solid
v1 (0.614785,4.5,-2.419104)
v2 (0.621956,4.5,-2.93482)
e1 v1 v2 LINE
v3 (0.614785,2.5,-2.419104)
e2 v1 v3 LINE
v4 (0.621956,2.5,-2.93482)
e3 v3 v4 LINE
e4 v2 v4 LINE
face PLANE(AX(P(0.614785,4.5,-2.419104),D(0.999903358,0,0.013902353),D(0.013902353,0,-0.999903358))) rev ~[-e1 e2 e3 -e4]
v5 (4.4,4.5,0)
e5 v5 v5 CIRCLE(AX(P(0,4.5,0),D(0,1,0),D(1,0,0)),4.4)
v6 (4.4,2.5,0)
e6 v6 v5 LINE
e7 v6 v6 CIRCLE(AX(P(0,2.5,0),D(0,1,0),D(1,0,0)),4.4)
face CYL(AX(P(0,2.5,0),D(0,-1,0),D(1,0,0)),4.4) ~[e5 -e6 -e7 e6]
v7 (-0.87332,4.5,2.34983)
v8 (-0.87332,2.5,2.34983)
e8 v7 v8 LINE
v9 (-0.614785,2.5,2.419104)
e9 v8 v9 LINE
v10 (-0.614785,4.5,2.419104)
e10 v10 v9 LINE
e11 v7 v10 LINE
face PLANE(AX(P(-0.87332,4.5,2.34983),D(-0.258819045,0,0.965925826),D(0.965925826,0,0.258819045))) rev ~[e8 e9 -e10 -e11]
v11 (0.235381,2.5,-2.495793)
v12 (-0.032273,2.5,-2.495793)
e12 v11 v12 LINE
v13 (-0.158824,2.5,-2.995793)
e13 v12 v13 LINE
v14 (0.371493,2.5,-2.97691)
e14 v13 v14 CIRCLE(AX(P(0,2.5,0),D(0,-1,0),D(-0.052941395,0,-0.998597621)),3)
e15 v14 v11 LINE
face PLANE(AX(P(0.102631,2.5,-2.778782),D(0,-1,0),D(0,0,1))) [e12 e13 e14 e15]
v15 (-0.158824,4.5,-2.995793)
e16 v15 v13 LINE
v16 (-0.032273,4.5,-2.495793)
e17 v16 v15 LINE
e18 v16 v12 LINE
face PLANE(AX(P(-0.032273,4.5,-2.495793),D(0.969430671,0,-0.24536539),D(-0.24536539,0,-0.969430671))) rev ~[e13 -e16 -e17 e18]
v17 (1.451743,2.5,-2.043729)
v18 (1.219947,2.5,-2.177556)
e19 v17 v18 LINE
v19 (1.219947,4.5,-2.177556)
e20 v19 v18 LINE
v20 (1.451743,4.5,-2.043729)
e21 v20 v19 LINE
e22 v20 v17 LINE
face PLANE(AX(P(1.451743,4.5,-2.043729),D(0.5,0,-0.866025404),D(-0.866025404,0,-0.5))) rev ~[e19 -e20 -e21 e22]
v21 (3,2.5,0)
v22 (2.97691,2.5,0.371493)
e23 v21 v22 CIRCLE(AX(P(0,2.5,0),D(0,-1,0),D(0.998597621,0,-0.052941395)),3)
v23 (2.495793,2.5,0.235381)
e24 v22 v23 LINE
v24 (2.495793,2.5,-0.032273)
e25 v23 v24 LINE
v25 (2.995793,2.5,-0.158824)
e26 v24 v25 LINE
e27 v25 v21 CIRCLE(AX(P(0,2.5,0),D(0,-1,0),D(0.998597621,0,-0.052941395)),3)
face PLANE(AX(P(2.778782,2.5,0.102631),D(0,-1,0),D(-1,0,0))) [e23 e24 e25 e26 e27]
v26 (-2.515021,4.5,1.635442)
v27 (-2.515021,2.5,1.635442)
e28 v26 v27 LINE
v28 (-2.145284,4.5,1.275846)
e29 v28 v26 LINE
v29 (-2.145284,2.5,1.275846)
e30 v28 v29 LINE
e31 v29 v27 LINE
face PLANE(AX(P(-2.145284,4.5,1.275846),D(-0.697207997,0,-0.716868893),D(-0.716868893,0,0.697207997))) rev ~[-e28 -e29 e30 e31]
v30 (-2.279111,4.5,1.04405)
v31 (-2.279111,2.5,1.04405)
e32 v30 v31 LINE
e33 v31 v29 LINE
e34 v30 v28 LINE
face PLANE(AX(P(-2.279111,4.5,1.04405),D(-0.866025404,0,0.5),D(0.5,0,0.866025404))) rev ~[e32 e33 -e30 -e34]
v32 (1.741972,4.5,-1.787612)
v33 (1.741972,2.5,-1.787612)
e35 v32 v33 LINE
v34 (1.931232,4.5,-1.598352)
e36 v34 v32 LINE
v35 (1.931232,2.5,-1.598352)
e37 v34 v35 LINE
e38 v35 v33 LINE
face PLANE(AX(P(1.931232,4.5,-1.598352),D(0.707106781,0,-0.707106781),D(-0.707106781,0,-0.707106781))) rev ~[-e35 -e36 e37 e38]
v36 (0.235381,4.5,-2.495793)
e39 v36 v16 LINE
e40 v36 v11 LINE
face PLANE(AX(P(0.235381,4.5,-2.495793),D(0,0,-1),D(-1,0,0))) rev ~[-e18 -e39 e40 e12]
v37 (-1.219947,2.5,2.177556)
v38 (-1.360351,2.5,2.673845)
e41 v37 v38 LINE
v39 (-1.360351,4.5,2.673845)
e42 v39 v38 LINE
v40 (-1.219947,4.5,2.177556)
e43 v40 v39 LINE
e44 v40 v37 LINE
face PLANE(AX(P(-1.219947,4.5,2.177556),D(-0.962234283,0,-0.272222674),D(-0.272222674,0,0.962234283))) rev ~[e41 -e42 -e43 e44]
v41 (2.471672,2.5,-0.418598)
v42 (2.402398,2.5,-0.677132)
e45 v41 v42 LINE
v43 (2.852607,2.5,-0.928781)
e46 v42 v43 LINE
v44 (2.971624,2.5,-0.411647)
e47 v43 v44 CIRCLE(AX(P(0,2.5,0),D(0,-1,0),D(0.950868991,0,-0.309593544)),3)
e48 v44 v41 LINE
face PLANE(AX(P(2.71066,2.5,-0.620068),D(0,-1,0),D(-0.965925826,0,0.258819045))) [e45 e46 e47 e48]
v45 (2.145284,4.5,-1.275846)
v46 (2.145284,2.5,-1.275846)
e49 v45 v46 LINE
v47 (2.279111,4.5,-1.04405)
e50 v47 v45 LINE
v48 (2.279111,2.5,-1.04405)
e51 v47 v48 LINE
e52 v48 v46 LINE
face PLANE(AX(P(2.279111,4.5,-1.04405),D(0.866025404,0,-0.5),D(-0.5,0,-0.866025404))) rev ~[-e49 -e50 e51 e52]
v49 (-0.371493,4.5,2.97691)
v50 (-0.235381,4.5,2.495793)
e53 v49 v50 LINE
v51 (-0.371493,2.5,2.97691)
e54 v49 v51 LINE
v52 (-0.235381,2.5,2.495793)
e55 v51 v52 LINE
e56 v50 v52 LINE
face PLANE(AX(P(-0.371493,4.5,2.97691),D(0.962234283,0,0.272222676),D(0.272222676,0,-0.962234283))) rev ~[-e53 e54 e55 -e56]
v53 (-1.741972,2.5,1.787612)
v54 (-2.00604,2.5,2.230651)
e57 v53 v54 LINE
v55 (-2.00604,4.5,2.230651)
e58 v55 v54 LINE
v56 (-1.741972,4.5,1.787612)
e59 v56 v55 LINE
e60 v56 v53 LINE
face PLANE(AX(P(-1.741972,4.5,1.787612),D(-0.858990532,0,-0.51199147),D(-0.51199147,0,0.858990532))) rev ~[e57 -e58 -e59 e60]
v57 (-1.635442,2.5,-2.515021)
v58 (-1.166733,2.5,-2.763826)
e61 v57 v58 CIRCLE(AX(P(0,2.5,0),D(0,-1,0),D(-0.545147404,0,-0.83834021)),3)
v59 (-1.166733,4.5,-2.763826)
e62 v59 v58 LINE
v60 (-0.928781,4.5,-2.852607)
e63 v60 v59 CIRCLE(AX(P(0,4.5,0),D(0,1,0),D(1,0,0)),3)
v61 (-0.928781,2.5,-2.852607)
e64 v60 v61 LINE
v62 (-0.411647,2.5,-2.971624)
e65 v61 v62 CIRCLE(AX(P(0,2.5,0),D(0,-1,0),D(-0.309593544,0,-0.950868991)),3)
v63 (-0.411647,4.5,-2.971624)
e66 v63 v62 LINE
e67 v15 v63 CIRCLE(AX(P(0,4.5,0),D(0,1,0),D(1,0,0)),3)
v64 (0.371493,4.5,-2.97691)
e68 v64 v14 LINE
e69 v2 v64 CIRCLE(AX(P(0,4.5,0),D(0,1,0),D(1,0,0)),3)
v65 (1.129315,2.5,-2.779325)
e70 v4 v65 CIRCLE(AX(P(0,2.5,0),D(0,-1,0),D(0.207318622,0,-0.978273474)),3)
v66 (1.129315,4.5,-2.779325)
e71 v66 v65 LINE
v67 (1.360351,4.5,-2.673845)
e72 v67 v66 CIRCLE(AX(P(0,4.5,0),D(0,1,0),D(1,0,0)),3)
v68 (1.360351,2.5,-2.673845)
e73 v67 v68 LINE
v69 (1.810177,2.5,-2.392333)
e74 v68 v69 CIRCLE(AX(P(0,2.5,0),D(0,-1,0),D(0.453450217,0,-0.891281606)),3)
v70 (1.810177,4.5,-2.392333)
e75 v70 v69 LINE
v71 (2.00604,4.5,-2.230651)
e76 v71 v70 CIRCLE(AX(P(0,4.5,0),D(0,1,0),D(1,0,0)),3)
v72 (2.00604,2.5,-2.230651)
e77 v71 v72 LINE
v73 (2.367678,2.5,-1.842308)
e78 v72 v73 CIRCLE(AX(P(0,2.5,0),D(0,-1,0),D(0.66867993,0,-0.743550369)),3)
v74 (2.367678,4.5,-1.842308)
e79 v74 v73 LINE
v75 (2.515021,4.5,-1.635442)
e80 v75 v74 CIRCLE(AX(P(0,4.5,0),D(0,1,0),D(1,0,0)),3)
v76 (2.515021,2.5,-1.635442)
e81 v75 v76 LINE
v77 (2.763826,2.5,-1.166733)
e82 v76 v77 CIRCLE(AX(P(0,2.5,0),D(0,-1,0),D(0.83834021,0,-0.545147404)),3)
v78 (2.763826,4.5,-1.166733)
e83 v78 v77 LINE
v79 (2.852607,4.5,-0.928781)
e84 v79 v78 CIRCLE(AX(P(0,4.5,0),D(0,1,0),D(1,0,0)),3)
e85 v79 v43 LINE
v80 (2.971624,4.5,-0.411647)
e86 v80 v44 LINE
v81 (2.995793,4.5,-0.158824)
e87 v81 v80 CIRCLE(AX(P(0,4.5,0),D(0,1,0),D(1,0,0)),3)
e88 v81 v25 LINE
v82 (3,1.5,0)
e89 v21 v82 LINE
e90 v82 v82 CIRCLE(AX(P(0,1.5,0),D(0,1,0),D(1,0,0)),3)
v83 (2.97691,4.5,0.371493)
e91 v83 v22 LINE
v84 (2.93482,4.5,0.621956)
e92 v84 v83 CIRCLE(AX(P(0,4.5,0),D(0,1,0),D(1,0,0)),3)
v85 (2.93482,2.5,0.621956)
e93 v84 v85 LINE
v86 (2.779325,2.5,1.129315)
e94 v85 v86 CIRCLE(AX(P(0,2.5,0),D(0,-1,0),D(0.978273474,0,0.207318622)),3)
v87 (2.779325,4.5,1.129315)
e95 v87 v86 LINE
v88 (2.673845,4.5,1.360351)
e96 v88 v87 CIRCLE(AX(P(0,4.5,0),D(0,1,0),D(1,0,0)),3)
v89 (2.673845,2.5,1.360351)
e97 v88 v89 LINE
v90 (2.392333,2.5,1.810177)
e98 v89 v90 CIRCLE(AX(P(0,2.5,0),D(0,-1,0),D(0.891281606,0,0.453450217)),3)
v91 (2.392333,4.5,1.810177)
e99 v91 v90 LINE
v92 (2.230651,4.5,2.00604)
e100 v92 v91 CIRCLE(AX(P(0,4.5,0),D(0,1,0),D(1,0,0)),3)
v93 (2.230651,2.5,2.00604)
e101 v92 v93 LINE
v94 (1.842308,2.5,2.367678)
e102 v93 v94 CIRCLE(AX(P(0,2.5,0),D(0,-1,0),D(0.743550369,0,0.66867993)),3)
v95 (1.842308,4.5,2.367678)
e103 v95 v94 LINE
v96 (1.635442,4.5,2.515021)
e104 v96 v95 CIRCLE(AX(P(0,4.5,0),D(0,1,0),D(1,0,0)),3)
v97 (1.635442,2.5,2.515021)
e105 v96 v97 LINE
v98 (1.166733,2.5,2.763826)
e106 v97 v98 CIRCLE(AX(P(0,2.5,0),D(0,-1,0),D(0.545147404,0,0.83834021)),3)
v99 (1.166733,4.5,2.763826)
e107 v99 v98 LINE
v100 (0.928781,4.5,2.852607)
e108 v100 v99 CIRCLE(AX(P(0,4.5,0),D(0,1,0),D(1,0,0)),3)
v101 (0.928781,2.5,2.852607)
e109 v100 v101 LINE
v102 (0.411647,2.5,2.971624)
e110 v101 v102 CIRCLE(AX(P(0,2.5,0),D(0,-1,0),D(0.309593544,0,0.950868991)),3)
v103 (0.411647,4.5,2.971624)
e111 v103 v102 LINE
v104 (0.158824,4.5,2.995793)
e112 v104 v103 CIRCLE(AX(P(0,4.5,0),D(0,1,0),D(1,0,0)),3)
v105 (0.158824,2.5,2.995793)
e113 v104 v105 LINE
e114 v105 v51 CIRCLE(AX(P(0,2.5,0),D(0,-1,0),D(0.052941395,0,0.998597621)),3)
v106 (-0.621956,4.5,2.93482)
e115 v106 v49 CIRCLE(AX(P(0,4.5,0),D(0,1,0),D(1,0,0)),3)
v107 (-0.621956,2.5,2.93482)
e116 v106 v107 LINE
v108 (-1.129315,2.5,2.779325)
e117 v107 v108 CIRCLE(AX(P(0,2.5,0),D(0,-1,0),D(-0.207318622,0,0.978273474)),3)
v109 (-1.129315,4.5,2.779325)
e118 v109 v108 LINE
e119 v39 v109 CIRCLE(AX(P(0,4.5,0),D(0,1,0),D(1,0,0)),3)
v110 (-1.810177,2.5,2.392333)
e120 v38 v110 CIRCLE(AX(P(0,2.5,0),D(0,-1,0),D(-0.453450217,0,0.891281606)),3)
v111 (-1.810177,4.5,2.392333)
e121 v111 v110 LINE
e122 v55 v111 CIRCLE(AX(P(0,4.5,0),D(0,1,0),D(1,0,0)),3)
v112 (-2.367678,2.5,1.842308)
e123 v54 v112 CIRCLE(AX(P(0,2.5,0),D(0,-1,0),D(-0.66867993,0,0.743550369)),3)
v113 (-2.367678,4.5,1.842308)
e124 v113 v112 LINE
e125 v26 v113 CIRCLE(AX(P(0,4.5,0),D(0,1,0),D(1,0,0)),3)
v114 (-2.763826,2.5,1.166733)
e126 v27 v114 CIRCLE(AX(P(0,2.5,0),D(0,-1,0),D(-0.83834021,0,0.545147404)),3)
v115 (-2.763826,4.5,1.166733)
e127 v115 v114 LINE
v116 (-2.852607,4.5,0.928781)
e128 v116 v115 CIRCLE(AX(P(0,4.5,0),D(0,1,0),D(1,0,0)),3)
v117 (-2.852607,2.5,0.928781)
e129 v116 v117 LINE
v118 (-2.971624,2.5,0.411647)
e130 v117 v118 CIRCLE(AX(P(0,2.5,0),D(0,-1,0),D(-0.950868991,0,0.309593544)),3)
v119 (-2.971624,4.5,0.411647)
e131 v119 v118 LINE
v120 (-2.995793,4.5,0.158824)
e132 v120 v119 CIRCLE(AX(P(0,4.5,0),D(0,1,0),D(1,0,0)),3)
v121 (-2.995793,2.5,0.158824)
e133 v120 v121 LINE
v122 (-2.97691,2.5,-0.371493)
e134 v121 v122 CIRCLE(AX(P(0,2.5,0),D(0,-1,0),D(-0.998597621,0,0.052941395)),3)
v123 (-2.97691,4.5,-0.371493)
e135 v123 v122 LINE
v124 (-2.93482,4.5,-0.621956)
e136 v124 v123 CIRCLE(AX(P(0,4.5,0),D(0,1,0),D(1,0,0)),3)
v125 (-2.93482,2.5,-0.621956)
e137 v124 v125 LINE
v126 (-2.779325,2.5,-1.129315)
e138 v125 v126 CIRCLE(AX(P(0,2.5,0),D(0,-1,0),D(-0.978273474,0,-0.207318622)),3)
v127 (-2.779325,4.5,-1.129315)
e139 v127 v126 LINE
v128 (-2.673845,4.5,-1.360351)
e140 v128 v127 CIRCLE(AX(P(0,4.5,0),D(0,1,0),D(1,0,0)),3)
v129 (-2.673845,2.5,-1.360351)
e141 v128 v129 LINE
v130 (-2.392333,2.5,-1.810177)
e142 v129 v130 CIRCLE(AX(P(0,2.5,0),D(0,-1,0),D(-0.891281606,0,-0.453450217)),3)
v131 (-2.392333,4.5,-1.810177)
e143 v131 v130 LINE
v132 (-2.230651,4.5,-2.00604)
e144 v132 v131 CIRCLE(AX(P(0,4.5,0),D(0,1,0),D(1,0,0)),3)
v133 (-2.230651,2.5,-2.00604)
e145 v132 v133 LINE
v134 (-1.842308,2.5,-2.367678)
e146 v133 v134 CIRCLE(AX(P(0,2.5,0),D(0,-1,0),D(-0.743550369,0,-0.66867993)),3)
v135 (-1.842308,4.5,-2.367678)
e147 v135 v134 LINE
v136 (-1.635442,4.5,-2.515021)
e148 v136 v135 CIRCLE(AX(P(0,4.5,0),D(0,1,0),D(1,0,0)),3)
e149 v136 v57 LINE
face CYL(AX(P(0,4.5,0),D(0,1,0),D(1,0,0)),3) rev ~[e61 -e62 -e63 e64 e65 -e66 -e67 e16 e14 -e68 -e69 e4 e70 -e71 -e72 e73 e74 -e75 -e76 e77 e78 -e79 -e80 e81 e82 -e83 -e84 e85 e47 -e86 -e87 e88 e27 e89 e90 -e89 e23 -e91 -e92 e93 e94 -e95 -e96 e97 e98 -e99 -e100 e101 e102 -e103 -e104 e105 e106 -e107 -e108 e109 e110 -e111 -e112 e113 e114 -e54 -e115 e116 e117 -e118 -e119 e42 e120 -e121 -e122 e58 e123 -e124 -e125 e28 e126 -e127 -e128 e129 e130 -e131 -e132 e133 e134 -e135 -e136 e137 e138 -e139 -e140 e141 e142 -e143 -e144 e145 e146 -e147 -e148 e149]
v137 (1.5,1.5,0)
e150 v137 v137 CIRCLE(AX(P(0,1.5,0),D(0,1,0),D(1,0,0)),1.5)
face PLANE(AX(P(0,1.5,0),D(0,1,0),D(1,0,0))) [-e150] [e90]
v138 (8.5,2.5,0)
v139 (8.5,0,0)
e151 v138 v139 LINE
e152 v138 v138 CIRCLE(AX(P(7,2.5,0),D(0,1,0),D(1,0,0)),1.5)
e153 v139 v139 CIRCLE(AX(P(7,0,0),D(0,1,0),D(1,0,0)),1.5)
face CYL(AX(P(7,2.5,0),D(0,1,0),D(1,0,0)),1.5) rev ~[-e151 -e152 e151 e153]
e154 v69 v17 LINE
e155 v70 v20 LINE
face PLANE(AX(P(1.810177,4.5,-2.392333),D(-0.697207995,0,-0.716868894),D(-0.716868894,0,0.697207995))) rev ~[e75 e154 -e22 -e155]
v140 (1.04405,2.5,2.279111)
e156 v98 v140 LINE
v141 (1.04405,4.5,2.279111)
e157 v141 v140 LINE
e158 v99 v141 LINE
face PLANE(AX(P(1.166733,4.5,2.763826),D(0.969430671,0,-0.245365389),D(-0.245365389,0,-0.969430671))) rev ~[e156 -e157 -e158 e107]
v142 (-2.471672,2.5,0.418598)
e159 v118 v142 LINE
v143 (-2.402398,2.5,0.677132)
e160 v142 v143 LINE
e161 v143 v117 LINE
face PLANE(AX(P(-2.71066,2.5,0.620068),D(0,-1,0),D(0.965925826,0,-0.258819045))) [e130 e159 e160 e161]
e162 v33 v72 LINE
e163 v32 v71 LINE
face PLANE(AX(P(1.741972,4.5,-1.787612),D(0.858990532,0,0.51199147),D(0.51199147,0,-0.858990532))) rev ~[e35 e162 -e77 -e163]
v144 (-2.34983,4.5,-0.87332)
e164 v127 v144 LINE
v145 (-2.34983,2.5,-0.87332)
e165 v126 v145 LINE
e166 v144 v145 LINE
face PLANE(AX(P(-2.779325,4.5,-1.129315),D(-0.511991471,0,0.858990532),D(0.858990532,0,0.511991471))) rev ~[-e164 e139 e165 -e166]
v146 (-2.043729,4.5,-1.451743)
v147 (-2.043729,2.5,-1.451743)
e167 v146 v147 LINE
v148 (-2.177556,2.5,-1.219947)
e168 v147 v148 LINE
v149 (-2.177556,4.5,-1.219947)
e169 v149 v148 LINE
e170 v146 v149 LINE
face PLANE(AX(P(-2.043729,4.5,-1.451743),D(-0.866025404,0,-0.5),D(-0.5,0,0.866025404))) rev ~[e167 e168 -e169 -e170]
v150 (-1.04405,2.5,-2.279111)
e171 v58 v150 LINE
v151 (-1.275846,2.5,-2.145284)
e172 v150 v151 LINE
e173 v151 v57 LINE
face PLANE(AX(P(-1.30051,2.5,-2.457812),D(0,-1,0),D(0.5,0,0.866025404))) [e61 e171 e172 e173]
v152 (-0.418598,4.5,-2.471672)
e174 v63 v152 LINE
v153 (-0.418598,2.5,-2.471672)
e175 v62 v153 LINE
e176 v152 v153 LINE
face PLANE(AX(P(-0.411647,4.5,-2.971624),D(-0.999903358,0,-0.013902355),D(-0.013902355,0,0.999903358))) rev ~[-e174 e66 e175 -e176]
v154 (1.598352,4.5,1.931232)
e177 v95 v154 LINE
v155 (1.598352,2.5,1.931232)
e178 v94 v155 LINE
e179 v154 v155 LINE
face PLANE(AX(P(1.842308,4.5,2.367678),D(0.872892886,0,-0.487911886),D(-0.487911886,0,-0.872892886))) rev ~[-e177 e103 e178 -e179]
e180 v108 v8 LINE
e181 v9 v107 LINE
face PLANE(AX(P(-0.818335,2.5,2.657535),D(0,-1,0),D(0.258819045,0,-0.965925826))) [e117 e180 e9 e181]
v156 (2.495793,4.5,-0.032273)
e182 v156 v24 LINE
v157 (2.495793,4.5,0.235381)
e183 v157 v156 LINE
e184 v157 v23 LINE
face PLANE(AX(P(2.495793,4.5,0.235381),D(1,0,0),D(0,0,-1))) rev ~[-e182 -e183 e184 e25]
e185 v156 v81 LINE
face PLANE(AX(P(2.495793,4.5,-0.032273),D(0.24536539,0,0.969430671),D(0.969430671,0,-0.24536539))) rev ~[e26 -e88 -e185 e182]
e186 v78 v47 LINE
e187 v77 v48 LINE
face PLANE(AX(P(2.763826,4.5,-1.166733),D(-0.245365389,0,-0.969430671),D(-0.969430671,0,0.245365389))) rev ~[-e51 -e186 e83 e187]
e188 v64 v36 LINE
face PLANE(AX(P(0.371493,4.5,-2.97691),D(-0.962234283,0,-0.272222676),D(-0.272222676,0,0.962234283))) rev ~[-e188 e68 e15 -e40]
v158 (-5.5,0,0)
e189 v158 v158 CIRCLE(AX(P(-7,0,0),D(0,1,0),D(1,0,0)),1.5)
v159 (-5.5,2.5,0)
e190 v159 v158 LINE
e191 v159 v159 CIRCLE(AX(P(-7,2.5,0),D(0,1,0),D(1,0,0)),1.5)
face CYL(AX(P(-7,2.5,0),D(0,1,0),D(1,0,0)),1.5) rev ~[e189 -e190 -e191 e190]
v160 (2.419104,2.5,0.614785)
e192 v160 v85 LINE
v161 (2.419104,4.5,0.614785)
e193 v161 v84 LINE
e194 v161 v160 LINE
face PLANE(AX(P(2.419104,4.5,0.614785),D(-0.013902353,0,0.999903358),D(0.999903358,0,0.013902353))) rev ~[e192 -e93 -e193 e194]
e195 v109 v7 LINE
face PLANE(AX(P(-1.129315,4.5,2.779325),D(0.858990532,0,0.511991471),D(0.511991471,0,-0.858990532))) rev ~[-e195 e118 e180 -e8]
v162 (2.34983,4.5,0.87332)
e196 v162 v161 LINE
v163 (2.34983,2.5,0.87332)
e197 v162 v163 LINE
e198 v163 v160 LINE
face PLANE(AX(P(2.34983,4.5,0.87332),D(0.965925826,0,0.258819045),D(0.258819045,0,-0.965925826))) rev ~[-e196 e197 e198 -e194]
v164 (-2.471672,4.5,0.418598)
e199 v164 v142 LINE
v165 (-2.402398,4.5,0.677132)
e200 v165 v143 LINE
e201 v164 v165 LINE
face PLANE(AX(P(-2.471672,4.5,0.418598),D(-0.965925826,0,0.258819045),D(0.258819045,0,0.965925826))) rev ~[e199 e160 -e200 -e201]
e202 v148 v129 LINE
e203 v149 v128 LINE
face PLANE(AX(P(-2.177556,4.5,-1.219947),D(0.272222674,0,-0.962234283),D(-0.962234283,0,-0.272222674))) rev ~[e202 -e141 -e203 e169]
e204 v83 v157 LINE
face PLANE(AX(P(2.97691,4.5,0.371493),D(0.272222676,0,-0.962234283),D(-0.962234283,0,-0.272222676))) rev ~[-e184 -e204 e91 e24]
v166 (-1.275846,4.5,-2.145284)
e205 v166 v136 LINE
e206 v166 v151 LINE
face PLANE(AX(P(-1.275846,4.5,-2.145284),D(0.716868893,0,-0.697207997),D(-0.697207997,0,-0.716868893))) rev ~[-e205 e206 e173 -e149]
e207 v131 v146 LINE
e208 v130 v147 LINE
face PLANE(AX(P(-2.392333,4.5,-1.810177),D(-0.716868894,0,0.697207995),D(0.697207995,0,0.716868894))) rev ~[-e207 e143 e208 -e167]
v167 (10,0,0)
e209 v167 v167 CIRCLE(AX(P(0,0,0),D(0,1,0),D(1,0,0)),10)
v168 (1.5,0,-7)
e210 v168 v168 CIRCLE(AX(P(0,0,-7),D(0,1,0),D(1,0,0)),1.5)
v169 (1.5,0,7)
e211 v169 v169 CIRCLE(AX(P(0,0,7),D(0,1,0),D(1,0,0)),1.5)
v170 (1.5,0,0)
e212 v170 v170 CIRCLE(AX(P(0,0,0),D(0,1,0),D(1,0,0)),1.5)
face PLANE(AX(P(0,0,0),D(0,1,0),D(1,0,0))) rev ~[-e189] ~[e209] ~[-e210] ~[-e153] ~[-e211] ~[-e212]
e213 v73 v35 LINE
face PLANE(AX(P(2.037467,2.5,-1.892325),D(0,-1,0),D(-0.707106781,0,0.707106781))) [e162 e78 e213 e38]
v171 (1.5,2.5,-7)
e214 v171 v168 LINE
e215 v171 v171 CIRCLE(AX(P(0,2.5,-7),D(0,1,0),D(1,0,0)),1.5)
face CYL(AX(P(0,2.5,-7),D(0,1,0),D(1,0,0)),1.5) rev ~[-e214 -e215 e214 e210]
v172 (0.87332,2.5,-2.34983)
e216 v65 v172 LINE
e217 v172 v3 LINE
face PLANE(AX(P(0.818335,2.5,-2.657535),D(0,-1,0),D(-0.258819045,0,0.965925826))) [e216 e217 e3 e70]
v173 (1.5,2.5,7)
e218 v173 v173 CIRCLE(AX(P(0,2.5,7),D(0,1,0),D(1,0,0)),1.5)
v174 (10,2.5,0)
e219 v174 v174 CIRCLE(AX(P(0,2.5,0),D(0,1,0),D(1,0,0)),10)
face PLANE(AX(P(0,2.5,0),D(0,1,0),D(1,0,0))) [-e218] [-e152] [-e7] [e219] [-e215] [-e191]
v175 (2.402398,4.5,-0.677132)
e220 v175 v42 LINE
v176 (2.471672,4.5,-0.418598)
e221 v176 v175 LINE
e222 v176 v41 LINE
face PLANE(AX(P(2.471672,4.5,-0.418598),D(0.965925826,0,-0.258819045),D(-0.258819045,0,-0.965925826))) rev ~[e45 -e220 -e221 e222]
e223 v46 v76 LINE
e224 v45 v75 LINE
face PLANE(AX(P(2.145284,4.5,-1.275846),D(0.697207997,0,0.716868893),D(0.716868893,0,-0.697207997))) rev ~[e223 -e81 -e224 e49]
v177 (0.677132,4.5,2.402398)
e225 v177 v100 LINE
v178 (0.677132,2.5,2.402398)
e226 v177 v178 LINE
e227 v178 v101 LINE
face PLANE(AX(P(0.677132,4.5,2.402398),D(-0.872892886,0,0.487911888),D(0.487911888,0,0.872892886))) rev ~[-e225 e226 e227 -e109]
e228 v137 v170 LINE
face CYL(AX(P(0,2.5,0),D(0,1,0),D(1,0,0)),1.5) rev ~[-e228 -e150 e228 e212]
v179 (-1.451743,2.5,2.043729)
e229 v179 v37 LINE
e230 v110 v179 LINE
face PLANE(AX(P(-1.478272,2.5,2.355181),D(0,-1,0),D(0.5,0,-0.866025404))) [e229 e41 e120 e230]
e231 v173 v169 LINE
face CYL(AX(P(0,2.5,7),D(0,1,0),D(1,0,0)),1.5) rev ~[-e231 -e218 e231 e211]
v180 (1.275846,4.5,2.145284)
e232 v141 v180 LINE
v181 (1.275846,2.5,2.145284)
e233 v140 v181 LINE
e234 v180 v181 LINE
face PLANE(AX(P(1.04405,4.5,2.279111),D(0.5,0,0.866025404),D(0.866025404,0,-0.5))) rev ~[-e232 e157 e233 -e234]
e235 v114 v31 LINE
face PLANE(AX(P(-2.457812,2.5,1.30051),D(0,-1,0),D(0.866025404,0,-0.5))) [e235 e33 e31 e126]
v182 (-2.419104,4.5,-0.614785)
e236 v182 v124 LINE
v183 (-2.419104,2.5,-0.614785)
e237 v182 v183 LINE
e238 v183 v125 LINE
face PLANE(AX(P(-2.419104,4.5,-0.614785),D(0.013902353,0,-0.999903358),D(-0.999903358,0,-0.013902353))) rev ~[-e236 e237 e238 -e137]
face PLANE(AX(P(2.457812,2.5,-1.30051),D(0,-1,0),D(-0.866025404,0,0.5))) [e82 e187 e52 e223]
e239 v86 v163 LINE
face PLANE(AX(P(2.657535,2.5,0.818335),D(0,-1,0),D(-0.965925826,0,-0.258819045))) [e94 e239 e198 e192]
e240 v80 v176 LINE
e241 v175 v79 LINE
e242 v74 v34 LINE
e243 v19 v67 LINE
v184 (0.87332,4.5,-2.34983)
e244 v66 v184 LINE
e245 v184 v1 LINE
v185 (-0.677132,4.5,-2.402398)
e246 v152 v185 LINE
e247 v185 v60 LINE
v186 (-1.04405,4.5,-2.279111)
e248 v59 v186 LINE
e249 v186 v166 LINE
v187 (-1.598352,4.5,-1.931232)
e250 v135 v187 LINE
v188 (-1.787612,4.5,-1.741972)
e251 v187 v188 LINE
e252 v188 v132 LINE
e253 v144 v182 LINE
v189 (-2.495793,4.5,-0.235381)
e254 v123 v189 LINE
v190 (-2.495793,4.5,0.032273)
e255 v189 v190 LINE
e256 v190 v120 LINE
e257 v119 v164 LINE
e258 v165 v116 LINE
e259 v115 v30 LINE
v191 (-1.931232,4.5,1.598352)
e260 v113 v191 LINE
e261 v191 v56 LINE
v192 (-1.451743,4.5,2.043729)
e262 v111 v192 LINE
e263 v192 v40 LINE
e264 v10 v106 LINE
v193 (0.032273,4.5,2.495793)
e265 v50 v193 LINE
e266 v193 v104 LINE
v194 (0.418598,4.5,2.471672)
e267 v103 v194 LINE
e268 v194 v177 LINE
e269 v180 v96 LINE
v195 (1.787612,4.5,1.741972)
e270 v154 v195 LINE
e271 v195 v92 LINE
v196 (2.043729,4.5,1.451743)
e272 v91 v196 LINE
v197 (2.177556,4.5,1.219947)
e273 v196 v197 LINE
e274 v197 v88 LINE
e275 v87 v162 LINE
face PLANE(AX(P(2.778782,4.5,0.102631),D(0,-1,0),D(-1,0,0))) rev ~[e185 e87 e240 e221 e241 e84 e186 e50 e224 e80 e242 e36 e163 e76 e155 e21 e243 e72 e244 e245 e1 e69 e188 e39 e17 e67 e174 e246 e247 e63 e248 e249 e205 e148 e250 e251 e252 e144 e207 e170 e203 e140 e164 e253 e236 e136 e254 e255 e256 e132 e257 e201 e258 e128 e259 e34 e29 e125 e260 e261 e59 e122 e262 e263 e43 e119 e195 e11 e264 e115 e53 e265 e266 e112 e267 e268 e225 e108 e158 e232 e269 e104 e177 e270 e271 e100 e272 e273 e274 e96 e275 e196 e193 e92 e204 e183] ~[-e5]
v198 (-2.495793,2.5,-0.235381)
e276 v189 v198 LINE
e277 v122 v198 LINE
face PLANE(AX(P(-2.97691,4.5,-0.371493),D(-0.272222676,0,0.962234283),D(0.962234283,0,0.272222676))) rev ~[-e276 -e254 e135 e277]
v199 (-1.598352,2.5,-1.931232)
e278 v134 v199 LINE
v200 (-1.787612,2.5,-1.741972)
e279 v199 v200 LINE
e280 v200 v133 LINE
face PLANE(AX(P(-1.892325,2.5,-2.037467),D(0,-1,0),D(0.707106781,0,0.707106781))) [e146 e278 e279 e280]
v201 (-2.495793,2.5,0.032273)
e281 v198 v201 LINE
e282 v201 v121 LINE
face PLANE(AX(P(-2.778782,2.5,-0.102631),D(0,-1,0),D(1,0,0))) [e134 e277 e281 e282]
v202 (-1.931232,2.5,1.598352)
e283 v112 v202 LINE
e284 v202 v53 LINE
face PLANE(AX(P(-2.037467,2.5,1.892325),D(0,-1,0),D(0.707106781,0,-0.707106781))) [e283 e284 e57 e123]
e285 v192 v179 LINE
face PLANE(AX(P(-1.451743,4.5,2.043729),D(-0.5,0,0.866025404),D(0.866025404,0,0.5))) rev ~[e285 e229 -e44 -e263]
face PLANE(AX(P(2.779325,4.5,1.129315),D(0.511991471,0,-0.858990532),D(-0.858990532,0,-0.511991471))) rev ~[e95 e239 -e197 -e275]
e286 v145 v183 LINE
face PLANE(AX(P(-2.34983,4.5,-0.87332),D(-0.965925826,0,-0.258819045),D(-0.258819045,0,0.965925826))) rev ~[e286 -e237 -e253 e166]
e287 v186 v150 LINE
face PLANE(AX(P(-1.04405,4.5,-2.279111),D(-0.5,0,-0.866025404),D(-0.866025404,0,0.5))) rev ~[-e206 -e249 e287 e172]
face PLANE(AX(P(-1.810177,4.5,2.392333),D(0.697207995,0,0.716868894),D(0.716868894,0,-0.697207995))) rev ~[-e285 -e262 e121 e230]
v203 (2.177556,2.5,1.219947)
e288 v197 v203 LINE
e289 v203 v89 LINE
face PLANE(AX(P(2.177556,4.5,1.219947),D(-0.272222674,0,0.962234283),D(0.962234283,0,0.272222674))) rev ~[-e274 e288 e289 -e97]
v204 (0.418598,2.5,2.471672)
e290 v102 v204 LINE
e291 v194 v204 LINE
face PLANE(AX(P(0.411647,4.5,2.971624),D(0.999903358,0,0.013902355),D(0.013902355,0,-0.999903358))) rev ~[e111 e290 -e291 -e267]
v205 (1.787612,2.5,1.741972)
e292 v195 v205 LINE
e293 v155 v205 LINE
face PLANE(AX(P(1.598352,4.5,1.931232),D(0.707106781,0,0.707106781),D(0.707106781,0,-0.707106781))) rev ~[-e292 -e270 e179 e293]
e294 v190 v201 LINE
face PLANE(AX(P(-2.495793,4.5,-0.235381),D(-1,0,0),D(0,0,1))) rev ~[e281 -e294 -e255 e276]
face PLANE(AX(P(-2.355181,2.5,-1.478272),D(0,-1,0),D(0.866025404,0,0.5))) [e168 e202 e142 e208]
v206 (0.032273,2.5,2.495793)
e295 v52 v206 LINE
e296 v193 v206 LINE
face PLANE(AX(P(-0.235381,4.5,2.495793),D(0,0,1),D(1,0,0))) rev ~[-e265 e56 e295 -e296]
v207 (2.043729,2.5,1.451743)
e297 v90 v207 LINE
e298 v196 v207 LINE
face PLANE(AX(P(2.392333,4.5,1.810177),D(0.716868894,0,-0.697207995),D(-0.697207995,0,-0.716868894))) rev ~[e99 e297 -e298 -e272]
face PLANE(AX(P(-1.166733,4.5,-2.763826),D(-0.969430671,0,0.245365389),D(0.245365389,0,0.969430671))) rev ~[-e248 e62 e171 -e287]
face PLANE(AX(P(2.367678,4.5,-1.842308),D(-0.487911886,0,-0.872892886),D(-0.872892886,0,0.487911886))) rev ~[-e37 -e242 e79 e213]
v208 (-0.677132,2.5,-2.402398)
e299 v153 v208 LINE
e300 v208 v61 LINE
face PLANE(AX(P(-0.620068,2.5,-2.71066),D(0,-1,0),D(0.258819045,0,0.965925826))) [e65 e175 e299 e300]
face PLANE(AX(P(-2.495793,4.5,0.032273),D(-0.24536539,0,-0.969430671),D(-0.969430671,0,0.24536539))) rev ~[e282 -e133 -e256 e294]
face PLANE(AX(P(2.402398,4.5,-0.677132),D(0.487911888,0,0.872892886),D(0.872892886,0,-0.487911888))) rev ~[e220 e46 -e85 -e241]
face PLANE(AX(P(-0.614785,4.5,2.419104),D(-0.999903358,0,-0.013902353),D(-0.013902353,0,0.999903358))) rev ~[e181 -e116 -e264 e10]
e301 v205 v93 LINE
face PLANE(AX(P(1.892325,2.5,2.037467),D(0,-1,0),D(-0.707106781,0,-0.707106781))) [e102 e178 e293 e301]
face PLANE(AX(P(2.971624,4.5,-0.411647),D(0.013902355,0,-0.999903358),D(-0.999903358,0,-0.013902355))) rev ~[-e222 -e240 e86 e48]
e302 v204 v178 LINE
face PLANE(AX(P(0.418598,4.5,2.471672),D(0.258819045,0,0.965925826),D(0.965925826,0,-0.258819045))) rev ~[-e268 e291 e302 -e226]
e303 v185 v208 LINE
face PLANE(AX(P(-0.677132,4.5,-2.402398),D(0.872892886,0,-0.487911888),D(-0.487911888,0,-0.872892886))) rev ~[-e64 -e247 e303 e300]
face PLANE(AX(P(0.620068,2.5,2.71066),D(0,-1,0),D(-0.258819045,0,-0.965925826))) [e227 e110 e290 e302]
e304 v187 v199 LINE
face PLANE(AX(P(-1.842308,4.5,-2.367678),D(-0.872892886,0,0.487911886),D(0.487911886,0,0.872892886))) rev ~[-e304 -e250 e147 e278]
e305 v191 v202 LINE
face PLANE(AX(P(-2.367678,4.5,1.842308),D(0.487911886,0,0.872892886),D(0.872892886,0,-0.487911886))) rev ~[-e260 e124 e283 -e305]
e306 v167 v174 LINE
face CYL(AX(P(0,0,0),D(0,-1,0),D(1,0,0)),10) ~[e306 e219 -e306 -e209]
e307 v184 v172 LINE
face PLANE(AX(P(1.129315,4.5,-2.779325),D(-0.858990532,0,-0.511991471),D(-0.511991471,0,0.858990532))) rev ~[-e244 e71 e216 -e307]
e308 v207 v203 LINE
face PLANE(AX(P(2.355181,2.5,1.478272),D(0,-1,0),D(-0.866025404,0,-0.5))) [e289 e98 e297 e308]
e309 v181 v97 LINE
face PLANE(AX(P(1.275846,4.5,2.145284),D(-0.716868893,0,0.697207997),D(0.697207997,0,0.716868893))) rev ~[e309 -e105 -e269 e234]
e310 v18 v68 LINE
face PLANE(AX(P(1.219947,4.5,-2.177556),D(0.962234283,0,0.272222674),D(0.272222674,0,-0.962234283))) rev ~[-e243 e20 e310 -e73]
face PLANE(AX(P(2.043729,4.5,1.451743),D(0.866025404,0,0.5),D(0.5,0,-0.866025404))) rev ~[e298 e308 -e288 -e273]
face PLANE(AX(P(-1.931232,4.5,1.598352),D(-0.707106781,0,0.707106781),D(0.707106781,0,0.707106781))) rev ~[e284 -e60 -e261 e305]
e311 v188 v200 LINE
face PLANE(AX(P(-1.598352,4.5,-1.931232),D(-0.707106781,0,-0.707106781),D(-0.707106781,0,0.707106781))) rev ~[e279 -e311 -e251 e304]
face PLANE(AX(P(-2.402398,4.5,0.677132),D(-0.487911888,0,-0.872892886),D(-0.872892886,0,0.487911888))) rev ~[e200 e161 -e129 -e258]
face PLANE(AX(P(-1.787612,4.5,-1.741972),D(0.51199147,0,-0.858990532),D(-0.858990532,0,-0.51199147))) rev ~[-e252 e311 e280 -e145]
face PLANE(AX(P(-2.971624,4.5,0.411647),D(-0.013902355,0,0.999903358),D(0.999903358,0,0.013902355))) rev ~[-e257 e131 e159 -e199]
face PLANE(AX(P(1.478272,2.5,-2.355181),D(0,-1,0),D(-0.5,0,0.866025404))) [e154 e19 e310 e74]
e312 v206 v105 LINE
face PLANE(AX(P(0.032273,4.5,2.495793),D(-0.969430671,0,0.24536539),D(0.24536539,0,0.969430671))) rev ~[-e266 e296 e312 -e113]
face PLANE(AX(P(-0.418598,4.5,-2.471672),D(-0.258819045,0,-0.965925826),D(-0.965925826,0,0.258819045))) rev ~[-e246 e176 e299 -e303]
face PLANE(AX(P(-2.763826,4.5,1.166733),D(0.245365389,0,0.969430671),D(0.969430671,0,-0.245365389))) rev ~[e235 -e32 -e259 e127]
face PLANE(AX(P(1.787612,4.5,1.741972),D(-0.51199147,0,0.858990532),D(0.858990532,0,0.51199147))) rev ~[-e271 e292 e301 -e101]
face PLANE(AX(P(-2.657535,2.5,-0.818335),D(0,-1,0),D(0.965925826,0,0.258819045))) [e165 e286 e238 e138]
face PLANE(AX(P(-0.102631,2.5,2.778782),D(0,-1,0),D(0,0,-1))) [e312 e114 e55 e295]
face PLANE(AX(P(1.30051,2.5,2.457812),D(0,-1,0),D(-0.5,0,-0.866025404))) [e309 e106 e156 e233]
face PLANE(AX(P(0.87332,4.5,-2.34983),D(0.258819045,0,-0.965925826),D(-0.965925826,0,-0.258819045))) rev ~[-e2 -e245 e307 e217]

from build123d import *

# Parameters (mm, degrees)
SKETCH_4_R               = 10
EXTRUDE_2_DEPTH          = 2.5
SKETCH_6_R               = 1.5
CUT_EXTRUDE_9_DEPTH      = 2.5
SKETCH_7_R               = 4.4
EXTRUDE_3_DEPTH          = 2
SKETCH_8_R               = 3
CUT_EXTRUDE_10_DEPTH     = 3
EXTRUDE_5_DEPTH          = 2
PATTERN_CIRCULAR_1_COUNT = 24


with BuildPart() as part:
    # 草图4 → 凸台-拉伸2 (new body)
    with BuildSketch(Plane(origin=(0, 0, 0), x_dir=(1, 0, 0), z_dir=(0, 1, 0))):
        Circle(SKETCH_4_R)
    extrude(amount=EXTRUDE_2_DEPTH)

    # 草图6 → 切除-拉伸9 (cut)
    with BuildSketch(Plane(origin=(0, 2.5, 0), x_dir=(1, 0, 0), z_dir=(0, 1, 0))):
        with Locations((0, 7)):
            Circle(SKETCH_6_R)
        Circle(SKETCH_6_R)
        with Locations((7, 0)):
            Circle(SKETCH_6_R)
        with Locations((-7, 0)):
            Circle(SKETCH_6_R)
        with Locations((0, -7)):
            Circle(SKETCH_6_R)
    extrude(amount=-CUT_EXTRUDE_9_DEPTH, mode=Mode.SUBTRACT)

    # 草图7 → 凸台-拉伸3 (add)
    with BuildSketch(Plane(origin=(0, 2.5, 0), x_dir=(1, 0, 0), z_dir=(0, 1, 0))):
        Circle(SKETCH_7_R)
    extrude(amount=EXTRUDE_3_DEPTH)

    # 草图8 → 切除-拉伸10 (cut)
    with BuildSketch(Plane(origin=(0, 4.5, 0), x_dir=(1, 0, 0), z_dir=(0, 1, 0))):
        Circle(SKETCH_8_R)
    extrude(amount=-CUT_EXTRUDE_10_DEPTH, mode=Mode.SUBTRACT)

    # 草图14 → 凸台-拉伸5 (add)
    with BuildSketch(Plane(origin=(0, 4.5, 0), x_dir=(1, 0, 0), z_dir=(0, 1, 0))):
        with BuildLine():
            Line((2.976910005, -0.371492698), (2.495792863, -0.23538136))
            Line((2.495792863, -0.23538136), (2.495792863, 0.032272898))
            Line((2.495792863, 0.032272898), (2.995792863, 0.158824181))
            ThreePointArc((2.995792863, 0.158824181), (2.998100046, -0.106752588), (2.976910005, -0.371492698))
        make_face()
    extrude_5 = extrude(amount=-EXTRUDE_5_DEPTH)

    # 阵列(圆周)1: 凸台-拉伸5 ×24 about axis
    pattern_circular_1_axis = Axis((0, 4.5, 0), (0, 1, 0))
    for i in range(1, PATTERN_CIRCULAR_1_COUNT):
        add(extrude_5.rotate(pattern_circular_1_axis, i * 360 / PATTERN_CIRCULAR_1_COUNT))


solid = part.part
